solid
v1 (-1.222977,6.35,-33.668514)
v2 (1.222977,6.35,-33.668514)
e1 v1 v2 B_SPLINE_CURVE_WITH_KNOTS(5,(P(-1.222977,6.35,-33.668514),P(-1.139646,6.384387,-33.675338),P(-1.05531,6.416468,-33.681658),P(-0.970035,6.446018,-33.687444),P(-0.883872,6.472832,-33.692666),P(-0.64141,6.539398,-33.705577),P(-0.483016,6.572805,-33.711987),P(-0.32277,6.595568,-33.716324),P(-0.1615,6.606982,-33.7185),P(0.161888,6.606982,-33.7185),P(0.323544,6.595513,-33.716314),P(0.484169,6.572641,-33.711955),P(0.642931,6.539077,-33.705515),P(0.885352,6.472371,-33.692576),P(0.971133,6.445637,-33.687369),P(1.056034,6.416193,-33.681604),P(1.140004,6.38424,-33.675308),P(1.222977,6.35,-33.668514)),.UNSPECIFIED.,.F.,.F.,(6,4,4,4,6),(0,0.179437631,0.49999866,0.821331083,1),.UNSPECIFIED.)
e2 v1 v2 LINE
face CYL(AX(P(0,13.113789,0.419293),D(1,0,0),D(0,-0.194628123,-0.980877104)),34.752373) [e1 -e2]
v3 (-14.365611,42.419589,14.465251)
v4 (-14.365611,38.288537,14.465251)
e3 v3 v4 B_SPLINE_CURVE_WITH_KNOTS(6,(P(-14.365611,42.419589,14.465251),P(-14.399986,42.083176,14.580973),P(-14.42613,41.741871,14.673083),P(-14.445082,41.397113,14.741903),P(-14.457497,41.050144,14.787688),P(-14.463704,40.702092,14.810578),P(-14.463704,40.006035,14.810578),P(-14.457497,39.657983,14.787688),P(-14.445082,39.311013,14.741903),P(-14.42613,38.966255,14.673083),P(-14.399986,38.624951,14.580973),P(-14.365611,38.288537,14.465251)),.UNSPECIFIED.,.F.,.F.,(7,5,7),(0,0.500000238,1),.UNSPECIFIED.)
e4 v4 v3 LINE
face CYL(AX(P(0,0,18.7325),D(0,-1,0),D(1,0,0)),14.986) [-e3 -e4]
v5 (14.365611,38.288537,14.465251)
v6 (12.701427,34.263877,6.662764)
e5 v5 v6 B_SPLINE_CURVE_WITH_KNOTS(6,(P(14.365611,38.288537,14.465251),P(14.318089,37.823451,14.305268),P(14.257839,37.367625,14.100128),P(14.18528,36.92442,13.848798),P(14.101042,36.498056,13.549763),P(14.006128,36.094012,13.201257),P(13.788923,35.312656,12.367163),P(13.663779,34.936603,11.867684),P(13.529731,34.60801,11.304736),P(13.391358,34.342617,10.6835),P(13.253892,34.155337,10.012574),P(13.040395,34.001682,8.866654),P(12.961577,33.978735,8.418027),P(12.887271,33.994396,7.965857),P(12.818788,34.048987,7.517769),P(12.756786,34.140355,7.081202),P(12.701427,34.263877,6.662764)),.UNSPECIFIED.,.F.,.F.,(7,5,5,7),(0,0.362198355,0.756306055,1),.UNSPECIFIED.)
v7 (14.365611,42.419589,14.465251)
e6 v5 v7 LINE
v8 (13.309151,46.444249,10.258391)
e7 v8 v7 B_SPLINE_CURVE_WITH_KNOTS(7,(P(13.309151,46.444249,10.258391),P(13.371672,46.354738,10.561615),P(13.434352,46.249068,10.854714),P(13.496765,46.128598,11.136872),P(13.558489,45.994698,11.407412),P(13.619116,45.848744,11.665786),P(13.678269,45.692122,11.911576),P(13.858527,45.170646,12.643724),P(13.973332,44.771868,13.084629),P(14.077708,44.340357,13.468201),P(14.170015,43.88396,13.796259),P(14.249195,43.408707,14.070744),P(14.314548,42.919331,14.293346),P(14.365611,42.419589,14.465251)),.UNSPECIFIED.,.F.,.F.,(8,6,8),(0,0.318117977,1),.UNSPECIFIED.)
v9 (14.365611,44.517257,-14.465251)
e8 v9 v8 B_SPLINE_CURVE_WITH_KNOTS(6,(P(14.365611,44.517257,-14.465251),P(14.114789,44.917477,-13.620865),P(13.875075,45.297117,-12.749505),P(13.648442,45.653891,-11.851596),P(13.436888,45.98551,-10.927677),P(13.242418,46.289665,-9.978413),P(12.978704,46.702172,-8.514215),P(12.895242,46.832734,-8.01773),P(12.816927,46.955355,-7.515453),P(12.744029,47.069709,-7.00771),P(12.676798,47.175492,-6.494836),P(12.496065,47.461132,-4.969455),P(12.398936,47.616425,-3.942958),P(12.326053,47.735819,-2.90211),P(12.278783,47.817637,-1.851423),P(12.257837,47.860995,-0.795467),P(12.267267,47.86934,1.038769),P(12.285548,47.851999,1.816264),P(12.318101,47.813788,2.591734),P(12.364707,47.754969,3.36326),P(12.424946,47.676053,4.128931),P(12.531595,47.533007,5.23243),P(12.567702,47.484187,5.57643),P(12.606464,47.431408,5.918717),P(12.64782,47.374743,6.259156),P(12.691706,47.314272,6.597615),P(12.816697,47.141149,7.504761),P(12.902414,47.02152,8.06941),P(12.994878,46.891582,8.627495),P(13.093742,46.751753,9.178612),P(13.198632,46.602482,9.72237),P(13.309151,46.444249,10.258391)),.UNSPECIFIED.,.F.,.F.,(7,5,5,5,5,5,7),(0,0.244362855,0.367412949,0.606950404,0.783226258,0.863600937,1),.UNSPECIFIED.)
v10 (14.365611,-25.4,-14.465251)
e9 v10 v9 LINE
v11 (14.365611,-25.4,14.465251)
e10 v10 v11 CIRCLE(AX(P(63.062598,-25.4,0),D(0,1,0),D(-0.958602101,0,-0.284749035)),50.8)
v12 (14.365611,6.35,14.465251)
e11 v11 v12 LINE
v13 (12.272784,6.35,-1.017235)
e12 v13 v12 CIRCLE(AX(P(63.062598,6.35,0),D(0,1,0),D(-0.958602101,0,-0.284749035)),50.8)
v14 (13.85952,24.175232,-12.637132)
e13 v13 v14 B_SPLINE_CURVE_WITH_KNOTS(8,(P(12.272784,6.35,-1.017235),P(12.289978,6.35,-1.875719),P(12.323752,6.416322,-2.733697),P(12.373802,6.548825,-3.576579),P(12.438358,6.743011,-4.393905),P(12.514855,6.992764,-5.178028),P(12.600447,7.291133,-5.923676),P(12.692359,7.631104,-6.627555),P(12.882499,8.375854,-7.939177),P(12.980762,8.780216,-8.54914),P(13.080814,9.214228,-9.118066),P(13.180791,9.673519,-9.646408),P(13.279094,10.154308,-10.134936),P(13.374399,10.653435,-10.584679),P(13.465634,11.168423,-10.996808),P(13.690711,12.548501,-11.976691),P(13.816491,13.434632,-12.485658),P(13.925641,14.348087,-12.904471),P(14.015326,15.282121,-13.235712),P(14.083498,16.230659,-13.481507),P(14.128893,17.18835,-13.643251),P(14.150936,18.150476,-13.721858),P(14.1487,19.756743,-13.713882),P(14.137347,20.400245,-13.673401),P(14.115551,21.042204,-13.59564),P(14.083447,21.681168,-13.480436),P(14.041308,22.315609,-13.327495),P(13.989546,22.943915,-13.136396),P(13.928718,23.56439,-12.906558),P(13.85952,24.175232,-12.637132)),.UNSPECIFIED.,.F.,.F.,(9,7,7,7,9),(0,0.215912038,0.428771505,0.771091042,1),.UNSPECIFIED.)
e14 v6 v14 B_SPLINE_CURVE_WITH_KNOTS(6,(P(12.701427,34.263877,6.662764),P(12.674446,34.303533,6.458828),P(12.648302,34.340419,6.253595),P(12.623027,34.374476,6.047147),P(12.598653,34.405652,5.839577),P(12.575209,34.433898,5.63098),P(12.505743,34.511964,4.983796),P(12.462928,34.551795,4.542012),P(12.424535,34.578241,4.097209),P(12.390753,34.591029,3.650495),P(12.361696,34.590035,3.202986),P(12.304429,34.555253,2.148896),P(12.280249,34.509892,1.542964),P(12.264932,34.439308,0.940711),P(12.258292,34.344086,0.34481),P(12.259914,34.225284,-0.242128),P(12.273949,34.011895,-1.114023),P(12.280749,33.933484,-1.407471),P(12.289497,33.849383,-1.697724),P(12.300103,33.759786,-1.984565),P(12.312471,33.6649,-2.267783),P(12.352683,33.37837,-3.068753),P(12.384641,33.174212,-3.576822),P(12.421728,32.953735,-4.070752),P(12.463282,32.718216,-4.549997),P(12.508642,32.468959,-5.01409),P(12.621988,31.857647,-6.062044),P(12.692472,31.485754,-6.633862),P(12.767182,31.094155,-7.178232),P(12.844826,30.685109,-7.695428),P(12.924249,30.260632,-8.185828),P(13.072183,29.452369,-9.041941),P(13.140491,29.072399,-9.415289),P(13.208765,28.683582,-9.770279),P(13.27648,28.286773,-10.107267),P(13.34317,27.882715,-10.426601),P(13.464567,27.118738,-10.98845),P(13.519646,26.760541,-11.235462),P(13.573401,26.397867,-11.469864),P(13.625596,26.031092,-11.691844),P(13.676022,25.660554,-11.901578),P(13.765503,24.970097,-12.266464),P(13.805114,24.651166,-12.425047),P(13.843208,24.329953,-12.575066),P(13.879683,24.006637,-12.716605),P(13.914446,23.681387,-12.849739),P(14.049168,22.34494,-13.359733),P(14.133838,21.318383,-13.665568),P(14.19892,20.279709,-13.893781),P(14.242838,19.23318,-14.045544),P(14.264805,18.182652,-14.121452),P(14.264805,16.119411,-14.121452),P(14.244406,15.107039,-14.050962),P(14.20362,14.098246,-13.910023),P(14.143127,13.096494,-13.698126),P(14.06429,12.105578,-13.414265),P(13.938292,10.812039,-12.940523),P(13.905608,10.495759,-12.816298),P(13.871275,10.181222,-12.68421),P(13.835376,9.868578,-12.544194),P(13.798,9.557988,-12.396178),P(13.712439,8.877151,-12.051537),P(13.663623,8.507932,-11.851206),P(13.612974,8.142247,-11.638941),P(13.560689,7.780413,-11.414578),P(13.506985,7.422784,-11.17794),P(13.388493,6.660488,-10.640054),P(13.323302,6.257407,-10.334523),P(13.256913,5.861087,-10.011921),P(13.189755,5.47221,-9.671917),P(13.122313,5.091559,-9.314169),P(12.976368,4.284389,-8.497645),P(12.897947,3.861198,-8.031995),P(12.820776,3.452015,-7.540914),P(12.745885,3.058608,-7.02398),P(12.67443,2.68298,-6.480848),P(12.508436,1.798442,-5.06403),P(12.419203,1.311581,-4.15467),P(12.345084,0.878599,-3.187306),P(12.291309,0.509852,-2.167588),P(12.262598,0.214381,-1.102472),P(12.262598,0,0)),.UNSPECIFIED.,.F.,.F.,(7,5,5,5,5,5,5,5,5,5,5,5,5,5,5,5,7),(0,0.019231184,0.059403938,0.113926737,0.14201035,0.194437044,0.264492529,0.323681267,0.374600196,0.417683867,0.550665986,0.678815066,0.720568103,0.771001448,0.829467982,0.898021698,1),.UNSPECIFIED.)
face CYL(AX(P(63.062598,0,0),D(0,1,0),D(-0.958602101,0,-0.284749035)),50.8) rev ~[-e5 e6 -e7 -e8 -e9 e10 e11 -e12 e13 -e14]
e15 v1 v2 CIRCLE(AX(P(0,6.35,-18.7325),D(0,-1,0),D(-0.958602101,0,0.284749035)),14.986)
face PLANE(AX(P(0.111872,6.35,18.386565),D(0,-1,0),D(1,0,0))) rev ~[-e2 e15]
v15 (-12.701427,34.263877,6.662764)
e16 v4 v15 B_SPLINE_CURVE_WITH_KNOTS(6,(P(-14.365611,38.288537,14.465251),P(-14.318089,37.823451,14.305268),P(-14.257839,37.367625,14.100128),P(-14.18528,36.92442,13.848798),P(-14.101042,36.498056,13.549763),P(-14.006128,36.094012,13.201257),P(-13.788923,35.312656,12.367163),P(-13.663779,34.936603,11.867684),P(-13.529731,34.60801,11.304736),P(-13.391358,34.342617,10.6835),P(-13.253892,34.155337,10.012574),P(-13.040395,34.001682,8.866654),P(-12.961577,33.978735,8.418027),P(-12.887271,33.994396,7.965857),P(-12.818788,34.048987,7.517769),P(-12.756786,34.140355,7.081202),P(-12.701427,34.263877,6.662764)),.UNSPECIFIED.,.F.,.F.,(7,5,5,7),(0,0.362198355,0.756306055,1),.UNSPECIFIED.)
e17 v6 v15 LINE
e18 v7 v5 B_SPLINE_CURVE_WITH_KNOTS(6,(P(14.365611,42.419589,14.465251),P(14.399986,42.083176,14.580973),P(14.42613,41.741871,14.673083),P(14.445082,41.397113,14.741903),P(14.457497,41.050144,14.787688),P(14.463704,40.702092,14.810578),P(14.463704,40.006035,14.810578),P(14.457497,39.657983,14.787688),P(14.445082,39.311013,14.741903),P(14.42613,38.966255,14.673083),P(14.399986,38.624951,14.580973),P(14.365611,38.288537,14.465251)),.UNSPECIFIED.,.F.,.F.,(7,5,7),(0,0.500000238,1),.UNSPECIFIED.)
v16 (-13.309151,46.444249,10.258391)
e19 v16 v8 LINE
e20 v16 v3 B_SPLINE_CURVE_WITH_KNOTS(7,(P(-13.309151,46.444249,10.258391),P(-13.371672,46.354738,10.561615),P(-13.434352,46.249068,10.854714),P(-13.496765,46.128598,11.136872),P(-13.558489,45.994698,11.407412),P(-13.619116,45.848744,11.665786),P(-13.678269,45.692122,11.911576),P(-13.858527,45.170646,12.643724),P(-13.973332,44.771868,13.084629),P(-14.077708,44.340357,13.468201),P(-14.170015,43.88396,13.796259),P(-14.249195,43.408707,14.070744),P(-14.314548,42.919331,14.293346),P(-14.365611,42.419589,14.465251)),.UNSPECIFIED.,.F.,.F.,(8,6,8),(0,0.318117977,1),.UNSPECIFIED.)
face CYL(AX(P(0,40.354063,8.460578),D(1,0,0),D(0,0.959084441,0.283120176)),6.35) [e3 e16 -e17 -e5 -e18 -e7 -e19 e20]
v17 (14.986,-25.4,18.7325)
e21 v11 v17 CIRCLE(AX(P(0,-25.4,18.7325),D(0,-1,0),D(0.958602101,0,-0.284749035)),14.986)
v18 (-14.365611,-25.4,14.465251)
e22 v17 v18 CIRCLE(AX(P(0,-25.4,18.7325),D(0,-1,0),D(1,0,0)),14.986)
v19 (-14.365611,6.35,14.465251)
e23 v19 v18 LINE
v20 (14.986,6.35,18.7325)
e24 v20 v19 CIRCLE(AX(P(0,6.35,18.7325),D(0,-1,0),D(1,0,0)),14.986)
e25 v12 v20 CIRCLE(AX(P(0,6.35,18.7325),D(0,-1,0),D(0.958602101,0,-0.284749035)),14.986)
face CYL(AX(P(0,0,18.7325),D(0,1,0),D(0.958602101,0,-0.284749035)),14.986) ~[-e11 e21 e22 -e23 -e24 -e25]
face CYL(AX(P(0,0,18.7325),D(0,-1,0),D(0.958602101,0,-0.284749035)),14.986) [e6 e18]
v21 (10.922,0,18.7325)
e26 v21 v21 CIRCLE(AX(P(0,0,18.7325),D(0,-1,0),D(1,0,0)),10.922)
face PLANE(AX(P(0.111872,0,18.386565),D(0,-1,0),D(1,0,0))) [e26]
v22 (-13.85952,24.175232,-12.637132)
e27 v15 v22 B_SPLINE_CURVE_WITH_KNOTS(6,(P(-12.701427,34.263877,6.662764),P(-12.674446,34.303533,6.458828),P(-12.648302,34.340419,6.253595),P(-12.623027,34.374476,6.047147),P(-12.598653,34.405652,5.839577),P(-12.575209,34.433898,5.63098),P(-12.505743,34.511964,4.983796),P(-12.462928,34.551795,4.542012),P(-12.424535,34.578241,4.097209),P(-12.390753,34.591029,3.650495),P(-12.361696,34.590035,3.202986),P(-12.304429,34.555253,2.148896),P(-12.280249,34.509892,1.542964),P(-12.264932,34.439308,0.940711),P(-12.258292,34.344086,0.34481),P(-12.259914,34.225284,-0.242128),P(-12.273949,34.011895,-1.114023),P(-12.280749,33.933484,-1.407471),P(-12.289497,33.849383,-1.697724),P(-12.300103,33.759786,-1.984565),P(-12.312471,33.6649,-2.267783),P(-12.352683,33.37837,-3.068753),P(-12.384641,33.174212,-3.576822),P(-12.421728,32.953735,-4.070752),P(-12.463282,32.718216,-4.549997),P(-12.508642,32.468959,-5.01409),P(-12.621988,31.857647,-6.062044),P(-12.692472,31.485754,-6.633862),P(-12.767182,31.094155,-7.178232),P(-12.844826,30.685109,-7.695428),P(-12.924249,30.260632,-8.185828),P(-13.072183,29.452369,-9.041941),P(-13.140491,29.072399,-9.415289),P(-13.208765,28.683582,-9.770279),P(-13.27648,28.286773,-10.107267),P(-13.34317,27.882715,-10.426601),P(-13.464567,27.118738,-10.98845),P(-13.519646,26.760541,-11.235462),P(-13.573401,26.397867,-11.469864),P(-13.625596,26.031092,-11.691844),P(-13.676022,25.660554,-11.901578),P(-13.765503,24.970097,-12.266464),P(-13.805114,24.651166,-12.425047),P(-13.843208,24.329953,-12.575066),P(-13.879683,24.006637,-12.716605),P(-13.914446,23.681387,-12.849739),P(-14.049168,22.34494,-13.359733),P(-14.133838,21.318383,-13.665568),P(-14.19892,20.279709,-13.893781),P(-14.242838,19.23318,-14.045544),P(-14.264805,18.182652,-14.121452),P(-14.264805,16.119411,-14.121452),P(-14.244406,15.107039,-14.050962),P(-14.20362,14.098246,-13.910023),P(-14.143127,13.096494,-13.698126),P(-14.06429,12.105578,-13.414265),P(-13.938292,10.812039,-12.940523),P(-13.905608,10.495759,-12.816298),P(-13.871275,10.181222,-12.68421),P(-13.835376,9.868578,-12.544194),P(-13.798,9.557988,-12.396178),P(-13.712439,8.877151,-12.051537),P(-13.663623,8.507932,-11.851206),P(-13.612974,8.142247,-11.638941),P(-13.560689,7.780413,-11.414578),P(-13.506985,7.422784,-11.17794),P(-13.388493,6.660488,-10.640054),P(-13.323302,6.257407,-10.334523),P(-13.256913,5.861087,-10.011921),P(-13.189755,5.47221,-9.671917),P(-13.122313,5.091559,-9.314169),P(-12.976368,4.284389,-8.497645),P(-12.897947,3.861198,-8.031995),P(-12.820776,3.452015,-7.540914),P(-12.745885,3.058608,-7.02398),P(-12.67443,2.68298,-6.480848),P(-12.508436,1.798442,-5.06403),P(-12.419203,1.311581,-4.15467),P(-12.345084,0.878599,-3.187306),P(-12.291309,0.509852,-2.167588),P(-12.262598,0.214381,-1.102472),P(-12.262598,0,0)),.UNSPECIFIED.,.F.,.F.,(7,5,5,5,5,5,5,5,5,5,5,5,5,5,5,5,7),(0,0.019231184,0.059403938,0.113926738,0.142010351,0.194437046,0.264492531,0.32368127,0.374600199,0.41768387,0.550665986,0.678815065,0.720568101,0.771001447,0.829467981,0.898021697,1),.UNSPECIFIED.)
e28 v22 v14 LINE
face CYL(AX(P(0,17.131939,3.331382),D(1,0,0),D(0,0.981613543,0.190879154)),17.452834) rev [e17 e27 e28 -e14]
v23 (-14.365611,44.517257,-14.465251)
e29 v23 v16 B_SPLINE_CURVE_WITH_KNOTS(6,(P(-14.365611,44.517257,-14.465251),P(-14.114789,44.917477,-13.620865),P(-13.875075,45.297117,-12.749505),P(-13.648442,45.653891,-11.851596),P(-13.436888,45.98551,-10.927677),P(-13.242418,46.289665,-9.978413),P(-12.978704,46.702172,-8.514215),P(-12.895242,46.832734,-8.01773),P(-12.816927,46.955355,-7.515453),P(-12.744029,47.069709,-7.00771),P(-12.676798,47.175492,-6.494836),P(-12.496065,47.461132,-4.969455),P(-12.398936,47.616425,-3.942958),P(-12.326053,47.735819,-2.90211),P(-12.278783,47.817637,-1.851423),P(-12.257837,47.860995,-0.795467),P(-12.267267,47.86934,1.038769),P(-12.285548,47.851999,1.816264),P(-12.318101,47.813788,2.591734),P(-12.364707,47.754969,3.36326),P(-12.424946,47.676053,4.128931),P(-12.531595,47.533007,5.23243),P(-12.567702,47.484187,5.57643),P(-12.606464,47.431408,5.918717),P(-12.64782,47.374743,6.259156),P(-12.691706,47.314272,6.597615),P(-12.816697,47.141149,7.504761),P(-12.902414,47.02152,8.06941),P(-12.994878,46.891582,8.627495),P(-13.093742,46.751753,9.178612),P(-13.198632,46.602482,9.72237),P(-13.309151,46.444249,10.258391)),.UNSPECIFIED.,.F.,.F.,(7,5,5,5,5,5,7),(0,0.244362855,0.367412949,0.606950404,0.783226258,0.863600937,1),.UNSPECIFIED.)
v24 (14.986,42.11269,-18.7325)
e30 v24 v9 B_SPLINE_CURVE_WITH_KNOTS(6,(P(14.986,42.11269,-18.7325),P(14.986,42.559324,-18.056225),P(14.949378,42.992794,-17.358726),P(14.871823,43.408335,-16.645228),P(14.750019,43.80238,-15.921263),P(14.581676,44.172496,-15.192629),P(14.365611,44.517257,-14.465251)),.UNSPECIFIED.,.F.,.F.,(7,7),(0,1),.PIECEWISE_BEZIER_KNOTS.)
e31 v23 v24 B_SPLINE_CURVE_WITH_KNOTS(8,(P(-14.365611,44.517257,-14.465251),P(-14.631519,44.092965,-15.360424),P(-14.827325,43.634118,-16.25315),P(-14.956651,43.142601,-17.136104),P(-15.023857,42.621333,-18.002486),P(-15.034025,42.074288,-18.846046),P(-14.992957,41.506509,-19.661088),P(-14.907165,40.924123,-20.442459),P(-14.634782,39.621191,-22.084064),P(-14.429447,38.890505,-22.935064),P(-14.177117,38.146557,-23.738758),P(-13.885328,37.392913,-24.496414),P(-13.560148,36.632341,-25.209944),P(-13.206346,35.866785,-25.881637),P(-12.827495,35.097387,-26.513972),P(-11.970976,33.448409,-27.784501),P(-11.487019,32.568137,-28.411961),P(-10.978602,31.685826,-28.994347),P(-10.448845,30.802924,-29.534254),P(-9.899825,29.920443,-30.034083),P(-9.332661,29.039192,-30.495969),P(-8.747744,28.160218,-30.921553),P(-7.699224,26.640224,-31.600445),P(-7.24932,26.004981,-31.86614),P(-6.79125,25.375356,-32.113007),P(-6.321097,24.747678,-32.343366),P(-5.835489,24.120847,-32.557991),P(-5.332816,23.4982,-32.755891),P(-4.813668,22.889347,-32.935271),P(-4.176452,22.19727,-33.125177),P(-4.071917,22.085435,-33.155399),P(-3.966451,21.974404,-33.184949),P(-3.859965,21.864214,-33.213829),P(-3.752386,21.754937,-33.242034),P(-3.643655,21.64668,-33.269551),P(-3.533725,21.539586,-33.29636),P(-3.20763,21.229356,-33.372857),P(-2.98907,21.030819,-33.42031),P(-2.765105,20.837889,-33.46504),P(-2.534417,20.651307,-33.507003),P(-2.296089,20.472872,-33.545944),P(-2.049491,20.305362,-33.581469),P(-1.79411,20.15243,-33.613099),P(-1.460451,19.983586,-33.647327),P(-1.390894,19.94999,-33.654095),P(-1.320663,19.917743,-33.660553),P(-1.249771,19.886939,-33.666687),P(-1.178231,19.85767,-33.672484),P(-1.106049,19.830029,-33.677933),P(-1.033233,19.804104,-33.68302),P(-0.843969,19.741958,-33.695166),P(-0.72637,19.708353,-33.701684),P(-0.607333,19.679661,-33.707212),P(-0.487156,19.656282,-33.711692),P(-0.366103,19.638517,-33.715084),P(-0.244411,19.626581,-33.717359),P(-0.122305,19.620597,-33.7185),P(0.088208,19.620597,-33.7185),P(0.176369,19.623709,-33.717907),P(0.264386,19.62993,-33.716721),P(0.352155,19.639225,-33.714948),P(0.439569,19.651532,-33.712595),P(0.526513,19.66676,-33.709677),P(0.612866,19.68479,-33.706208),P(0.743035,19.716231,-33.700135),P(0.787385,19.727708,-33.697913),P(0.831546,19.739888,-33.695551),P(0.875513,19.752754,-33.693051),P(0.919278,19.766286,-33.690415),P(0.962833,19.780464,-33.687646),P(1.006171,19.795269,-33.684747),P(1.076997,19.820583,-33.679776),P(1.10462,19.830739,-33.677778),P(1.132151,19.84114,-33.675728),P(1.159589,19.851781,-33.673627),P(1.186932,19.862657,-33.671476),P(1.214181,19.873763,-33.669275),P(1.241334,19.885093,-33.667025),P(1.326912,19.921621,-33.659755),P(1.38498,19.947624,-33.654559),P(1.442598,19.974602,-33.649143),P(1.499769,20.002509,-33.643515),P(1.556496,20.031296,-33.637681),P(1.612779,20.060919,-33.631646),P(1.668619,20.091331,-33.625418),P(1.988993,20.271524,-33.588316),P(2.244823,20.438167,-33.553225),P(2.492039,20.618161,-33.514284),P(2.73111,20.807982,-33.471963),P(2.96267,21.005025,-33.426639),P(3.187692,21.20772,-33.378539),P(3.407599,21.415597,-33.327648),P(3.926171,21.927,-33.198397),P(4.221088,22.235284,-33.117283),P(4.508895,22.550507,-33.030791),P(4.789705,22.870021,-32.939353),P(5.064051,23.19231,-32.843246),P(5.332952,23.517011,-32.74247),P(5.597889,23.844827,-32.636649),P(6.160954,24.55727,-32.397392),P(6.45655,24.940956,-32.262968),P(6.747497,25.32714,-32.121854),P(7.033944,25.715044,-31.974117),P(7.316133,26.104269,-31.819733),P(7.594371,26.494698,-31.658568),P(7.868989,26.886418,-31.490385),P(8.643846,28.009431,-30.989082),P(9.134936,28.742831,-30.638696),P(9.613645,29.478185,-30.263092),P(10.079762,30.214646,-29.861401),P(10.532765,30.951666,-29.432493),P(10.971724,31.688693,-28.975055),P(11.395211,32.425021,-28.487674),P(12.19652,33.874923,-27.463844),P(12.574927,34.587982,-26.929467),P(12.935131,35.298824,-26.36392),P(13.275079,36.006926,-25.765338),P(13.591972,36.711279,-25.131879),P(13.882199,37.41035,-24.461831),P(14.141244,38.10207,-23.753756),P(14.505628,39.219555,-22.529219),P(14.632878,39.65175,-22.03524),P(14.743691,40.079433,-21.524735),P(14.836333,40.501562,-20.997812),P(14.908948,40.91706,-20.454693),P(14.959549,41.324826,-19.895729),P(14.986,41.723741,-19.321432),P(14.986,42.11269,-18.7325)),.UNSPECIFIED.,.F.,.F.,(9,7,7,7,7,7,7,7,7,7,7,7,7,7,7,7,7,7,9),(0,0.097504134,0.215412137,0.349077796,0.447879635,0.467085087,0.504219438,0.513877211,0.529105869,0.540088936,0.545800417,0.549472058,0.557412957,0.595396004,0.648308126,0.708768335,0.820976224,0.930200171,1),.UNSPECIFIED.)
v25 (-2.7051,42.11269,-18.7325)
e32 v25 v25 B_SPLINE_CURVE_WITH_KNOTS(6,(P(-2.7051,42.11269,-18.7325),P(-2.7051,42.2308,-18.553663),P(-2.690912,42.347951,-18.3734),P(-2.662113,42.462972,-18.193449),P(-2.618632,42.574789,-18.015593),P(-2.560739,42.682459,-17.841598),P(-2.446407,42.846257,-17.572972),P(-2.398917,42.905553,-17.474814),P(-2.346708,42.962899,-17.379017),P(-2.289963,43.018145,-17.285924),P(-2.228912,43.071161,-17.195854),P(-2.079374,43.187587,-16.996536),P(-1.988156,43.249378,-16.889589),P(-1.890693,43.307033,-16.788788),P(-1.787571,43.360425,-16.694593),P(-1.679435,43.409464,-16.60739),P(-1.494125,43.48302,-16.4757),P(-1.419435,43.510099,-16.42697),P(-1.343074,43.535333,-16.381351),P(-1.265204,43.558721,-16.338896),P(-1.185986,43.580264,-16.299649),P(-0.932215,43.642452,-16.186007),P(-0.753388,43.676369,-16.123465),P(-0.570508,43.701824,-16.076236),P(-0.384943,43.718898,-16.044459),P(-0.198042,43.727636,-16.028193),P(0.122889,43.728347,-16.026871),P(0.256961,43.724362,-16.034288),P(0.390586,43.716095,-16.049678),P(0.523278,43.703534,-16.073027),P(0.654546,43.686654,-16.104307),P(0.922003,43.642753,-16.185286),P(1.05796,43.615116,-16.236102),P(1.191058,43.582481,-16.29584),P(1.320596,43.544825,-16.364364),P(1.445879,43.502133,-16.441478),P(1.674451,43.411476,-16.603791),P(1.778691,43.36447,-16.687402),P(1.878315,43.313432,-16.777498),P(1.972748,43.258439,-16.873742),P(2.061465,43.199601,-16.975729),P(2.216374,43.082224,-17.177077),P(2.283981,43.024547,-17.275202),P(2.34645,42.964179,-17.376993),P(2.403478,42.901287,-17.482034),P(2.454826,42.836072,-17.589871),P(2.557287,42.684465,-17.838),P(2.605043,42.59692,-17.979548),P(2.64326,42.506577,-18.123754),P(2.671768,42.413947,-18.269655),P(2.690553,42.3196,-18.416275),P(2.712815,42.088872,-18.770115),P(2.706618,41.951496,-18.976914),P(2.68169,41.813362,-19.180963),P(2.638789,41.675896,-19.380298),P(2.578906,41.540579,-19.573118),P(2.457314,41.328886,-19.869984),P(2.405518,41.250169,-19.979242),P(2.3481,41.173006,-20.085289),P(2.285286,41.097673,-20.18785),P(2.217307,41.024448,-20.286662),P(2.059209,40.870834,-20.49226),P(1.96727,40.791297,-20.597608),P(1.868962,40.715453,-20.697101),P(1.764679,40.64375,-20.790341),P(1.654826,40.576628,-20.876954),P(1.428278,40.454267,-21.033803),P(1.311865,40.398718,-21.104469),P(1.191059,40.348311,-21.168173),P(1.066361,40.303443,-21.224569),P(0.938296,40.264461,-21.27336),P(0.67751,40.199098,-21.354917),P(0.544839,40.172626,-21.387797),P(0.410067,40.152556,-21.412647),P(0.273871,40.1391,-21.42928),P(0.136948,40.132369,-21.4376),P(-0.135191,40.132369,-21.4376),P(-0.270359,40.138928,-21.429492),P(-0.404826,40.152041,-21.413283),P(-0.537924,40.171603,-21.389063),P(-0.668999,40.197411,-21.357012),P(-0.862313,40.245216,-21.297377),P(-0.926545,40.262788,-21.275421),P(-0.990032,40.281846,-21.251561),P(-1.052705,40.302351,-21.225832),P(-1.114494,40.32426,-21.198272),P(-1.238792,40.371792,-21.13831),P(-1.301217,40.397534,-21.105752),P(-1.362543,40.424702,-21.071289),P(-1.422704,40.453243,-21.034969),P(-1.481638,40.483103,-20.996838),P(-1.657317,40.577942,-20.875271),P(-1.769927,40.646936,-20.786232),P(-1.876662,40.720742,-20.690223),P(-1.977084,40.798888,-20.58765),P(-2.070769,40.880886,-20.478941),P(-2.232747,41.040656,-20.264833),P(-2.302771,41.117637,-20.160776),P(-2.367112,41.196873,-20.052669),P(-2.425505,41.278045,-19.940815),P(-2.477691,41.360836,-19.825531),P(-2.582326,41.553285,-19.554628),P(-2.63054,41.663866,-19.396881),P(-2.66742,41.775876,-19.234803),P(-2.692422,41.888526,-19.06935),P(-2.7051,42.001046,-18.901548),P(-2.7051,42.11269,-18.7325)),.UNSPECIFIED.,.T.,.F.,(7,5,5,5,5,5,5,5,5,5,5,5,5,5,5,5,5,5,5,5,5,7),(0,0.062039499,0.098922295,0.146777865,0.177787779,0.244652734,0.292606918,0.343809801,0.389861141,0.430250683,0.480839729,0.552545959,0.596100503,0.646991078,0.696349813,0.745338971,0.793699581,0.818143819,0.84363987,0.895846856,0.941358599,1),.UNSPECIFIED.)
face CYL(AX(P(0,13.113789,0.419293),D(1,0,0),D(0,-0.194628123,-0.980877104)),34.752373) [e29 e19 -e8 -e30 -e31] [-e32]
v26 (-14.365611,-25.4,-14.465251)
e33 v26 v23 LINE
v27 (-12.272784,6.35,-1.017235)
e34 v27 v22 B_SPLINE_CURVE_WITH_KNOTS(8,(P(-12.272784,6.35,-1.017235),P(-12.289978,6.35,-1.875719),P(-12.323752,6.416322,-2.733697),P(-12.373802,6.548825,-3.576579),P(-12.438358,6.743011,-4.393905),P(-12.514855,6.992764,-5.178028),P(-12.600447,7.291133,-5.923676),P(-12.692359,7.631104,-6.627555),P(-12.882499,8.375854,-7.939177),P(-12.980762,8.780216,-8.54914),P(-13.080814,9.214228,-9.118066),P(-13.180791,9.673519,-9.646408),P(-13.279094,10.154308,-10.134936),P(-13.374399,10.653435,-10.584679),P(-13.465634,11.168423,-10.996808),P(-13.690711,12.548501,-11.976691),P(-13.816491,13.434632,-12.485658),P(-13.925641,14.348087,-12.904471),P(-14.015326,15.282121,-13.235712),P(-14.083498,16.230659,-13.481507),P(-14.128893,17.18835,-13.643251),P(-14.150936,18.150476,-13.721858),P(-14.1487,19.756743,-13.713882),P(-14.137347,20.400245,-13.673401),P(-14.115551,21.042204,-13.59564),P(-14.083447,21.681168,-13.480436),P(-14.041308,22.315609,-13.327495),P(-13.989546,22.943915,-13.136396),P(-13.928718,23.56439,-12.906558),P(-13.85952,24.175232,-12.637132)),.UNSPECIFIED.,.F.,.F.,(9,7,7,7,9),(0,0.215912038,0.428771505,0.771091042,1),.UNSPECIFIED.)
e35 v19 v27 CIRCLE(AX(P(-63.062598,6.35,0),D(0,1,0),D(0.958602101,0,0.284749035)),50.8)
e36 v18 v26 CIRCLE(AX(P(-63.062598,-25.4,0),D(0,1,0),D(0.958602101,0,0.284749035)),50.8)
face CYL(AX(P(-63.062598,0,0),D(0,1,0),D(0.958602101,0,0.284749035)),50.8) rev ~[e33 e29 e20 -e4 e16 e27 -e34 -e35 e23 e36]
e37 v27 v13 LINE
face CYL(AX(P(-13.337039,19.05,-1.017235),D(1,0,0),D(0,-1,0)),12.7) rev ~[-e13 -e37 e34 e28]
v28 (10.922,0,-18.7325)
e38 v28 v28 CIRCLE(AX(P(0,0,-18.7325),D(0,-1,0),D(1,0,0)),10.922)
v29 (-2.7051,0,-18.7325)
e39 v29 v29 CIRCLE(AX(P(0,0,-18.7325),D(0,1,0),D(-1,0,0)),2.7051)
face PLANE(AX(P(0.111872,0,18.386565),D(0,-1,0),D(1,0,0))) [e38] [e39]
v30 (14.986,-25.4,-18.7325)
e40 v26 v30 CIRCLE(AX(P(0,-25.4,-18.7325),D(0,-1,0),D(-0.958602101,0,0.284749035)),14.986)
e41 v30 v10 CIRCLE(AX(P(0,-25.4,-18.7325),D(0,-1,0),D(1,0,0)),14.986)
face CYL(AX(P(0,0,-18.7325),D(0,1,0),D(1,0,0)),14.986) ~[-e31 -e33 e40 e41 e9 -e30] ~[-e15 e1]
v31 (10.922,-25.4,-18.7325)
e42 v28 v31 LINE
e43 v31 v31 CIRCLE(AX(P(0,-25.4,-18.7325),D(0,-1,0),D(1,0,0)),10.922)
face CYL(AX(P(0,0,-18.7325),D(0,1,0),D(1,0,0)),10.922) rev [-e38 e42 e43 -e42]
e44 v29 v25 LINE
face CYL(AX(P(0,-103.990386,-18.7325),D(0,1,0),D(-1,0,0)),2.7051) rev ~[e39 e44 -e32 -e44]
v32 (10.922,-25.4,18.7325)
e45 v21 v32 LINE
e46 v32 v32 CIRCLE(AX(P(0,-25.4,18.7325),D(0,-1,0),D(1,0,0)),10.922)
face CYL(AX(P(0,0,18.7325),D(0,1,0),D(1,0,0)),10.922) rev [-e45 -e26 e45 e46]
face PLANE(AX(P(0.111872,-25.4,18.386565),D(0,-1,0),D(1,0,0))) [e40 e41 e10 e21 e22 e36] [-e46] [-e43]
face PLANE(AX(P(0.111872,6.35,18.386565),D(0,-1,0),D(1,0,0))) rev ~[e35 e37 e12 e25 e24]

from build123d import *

# Parameters (mm, degrees)
F0_R     = 10.922
F1_DEPTH = 25.4
F2_DEPTH = 6.35
F4_DEPTH = 25.4
F5_DEPTH = 76.2
F6_DEPTH = 25.4
F7_D     = 5.4102
F8_R     = 12.7


with BuildPart() as f1:
    # F0 (on Front) → F1 (new body)
    with BuildSketch(Plane.XZ):
        with BuildLine():
            ThreePointArc((14.3656110791, 14.4652509653), (0, 3.7465), (-14.3656110791, 14.4652509653))
            ThreePointArc((-14.3656110791, 14.4652509653), (-12.2625977878, 0), (-14.3656110791, -14.4652509653))
            ThreePointArc((-14.3656110791, -14.4652509653), (0, -3.7465), (14.3656110791, -14.4652509653))
            ThreePointArc((14.3656110791, -14.4652509653), (12.2625977878, 0), (14.3656110791, 14.4652509653))
        make_face()
        with BuildLine():
            ThreePointArc((14.3656110791, 14.4652509653), (14.8300917669, 16.5764447631), (14.986, 18.7325))
            ThreePointArc((14.986, 18.7325), (-2.1560552369, 33.5625917669), (-14.3656110791, 14.4652509653))
            ThreePointArc((-14.3656110791, 14.4652509653), (0, 3.7465), (14.3656110791, 14.4652509653))
        make_face()
        with Locations((0, 18.7325)):
            Circle(F0_R, mode=Mode.SUBTRACT)
        with BuildLine():
            ThreePointArc((14.3656110791, -14.4652509653), (0, -3.7465), (-14.3656110791, -14.4652509653))
            ThreePointArc((-14.3656110791, -14.4652509653), (-2.1560552369, -33.5625917669), (14.986, -18.7325))
            ThreePointArc((14.986, -18.7325), (14.8300917669, -16.5764447631), (14.3656110791, -14.4652509653))
        make_face()
        with Locations((0, -18.7325)):
            Circle(F0_R, mode=Mode.SUBTRACT)
    extrude(amount=F1_DEPTH)

    # F0 (on Front) → F2 (join)
    with BuildSketch(Plane.XZ):
        with BuildLine():
            ThreePointArc((14.3656110791, 14.4652509653), (14.8300917669, 16.5764447631), (14.986, 18.7325))
            ThreePointArc((14.986, 18.7325), (-2.1560552369, 33.5625917669), (-14.3656110791, 14.4652509653))
            ThreePointArc((-14.3656110791, 14.4652509653), (0, 3.7465), (14.3656110791, 14.4652509653))
        make_face()
        with Locations((0, 18.7325)):
            Circle(F0_R, mode=Mode.SUBTRACT)
        with BuildLine():
            ThreePointArc((14.3656110791, 14.4652509653), (0, 3.7465), (-14.3656110791, 14.4652509653))
            ThreePointArc((-14.3656110791, 14.4652509653), (-12.2625977878, 0), (-14.3656110791, -14.4652509653))
            ThreePointArc((-14.3656110791, -14.4652509653), (0, -3.7465), (14.3656110791, -14.4652509653))
            ThreePointArc((14.3656110791, -14.4652509653), (12.2625977878, 0), (14.3656110791, 14.4652509653))
        make_face()
        with BuildLine():
            ThreePointArc((14.3656110791, -14.4652509653), (0, -3.7465), (-14.3656110791, -14.4652509653))
            ThreePointArc((-14.3656110791, -14.4652509653), (-2.1560552369, -33.5625917669), (14.986, -18.7325))
            ThreePointArc((14.986, -18.7325), (14.8300917669, -16.5764447631), (14.3656110791, -14.4652509653))
        make_face()
        with Locations((0, -18.7325)):
            Circle(F0_R, mode=Mode.SUBTRACT)
        with Locations((0, 18.7325)):
            Circle(F0_R)
        with Locations((0, -18.7325)):
            Circle(F0_R)
    extrude(amount=-F2_DEPTH)

    # F3 (on Right) → F4 (join, symmetric)
    with BuildSketch(Plane.YZ):
        with BuildLine():
            Line((0, 0), (6.35, -33.6685143411))
            ThreePointArc((6.35, -33.6685143411), (38.7816728167, -23.0090487153), (46.444249479, 10.2583907415))
            ThreePointArc((46.444249479, 10.2583907415), (38.5562501556, 14.5507638234), (34.2638770738, 6.6627644999))
            ThreePointArc((34.2638770738, 6.6627644999), (20.4633207868, -13.8005562869), (0, 0))
        make_face()
    extrude(amount=F4_DEPTH, both=True)

    # F0 (on Front) → F5 (intersect)
    with BuildSketch(Plane.XZ):
        with BuildLine():
            ThreePointArc((14.3656110791, 14.4652509653), (14.8300917669, 16.5764447631), (14.986, 18.7325))
            ThreePointArc((14.986, 18.7325), (-2.1560552369, 33.5625917669), (-14.3656110791, 14.4652509653))
            ThreePointArc((-14.3656110791, 14.4652509653), (0, 3.7465), (14.3656110791, 14.4652509653))
        make_face()
        with Locations((0, 18.7325)):
            Circle(F0_R, mode=Mode.SUBTRACT)
        with BuildLine():
            ThreePointArc((14.3656110791, 14.4652509653), (0, 3.7465), (-14.3656110791, 14.4652509653))
            ThreePointArc((-14.3656110791, 14.4652509653), (-12.2625977878, 0), (-14.3656110791, -14.4652509653))
            ThreePointArc((-14.3656110791, -14.4652509653), (0, -3.7465), (14.3656110791, -14.4652509653))
            ThreePointArc((14.3656110791, -14.4652509653), (12.2625977878, 0), (14.3656110791, 14.4652509653))
        make_face()
        with BuildLine():
            ThreePointArc((14.3656110791, -14.4652509653), (0, -3.7465), (-14.3656110791, -14.4652509653))
            ThreePointArc((-14.3656110791, -14.4652509653), (-2.1560552369, -33.5625917669), (14.986, -18.7325))
            ThreePointArc((14.986, -18.7325), (14.8300917669, -16.5764447631), (14.3656110791, -14.4652509653))
        make_face()
        with Locations((0, -18.7325)):
            Circle(F0_R, mode=Mode.SUBTRACT)
        with Locations((0, -18.7325)):
            Circle(F0_R)
        with Locations((0, 18.7325)):
            Circle(F0_R)
    extrude(amount=-F5_DEPTH, mode=Mode.INTERSECT)

    # F0 (on Front) → F6 (join)
    with BuildSketch(Plane.XZ):
        with BuildLine():
            ThreePointArc((14.3656110791, 14.4652509653), (14.8300917669, 16.5764447631), (14.986, 18.7325))
            ThreePointArc((14.986, 18.7325), (-2.1560552369, 33.5625917669), (-14.3656110791, 14.4652509653))
            ThreePointArc((-14.3656110791, 14.4652509653), (0, 3.7465), (14.3656110791, 14.4652509653))
        make_face()
        with Locations((0, 18.7325)):
            Circle(F0_R, mode=Mode.SUBTRACT)
        with BuildLine():
            ThreePointArc((14.3656110791, 14.4652509653), (0, 3.7465), (-14.3656110791, 14.4652509653))
            ThreePointArc((-14.3656110791, 14.4652509653), (-12.2625977878, 0), (-14.3656110791, -14.4652509653))
            ThreePointArc((-14.3656110791, -14.4652509653), (0, -3.7465), (14.3656110791, -14.4652509653))
            ThreePointArc((14.3656110791, -14.4652509653), (12.2625977878, 0), (14.3656110791, 14.4652509653))
        make_face()
        with BuildLine():
            ThreePointArc((14.3656110791, -14.4652509653), (0, -3.7465), (-14.3656110791, -14.4652509653))
            ThreePointArc((-14.3656110791, -14.4652509653), (-2.1560552369, -33.5625917669), (14.986, -18.7325))
            ThreePointArc((14.986, -18.7325), (14.8300917669, -16.5764447631), (14.3656110791, -14.4652509653))
        make_face()
        with Locations((0, -18.7325)):
            Circle(F0_R, mode=Mode.SUBTRACT)
    extrude(amount=F6_DEPTH)

    # F7 (through all)
    with Locations(Plane.XZ):
        with Locations((0, -18.7325)):
            Hole(F7_D / 2)

    # F8
    f8_edges = [f1.edges().sort_by_distance(p)[0] for p in [
        (0, 6.35, -10.392729),
    ]]
    fillet(f8_edges, radius=F8_R)


solid = f1.part
